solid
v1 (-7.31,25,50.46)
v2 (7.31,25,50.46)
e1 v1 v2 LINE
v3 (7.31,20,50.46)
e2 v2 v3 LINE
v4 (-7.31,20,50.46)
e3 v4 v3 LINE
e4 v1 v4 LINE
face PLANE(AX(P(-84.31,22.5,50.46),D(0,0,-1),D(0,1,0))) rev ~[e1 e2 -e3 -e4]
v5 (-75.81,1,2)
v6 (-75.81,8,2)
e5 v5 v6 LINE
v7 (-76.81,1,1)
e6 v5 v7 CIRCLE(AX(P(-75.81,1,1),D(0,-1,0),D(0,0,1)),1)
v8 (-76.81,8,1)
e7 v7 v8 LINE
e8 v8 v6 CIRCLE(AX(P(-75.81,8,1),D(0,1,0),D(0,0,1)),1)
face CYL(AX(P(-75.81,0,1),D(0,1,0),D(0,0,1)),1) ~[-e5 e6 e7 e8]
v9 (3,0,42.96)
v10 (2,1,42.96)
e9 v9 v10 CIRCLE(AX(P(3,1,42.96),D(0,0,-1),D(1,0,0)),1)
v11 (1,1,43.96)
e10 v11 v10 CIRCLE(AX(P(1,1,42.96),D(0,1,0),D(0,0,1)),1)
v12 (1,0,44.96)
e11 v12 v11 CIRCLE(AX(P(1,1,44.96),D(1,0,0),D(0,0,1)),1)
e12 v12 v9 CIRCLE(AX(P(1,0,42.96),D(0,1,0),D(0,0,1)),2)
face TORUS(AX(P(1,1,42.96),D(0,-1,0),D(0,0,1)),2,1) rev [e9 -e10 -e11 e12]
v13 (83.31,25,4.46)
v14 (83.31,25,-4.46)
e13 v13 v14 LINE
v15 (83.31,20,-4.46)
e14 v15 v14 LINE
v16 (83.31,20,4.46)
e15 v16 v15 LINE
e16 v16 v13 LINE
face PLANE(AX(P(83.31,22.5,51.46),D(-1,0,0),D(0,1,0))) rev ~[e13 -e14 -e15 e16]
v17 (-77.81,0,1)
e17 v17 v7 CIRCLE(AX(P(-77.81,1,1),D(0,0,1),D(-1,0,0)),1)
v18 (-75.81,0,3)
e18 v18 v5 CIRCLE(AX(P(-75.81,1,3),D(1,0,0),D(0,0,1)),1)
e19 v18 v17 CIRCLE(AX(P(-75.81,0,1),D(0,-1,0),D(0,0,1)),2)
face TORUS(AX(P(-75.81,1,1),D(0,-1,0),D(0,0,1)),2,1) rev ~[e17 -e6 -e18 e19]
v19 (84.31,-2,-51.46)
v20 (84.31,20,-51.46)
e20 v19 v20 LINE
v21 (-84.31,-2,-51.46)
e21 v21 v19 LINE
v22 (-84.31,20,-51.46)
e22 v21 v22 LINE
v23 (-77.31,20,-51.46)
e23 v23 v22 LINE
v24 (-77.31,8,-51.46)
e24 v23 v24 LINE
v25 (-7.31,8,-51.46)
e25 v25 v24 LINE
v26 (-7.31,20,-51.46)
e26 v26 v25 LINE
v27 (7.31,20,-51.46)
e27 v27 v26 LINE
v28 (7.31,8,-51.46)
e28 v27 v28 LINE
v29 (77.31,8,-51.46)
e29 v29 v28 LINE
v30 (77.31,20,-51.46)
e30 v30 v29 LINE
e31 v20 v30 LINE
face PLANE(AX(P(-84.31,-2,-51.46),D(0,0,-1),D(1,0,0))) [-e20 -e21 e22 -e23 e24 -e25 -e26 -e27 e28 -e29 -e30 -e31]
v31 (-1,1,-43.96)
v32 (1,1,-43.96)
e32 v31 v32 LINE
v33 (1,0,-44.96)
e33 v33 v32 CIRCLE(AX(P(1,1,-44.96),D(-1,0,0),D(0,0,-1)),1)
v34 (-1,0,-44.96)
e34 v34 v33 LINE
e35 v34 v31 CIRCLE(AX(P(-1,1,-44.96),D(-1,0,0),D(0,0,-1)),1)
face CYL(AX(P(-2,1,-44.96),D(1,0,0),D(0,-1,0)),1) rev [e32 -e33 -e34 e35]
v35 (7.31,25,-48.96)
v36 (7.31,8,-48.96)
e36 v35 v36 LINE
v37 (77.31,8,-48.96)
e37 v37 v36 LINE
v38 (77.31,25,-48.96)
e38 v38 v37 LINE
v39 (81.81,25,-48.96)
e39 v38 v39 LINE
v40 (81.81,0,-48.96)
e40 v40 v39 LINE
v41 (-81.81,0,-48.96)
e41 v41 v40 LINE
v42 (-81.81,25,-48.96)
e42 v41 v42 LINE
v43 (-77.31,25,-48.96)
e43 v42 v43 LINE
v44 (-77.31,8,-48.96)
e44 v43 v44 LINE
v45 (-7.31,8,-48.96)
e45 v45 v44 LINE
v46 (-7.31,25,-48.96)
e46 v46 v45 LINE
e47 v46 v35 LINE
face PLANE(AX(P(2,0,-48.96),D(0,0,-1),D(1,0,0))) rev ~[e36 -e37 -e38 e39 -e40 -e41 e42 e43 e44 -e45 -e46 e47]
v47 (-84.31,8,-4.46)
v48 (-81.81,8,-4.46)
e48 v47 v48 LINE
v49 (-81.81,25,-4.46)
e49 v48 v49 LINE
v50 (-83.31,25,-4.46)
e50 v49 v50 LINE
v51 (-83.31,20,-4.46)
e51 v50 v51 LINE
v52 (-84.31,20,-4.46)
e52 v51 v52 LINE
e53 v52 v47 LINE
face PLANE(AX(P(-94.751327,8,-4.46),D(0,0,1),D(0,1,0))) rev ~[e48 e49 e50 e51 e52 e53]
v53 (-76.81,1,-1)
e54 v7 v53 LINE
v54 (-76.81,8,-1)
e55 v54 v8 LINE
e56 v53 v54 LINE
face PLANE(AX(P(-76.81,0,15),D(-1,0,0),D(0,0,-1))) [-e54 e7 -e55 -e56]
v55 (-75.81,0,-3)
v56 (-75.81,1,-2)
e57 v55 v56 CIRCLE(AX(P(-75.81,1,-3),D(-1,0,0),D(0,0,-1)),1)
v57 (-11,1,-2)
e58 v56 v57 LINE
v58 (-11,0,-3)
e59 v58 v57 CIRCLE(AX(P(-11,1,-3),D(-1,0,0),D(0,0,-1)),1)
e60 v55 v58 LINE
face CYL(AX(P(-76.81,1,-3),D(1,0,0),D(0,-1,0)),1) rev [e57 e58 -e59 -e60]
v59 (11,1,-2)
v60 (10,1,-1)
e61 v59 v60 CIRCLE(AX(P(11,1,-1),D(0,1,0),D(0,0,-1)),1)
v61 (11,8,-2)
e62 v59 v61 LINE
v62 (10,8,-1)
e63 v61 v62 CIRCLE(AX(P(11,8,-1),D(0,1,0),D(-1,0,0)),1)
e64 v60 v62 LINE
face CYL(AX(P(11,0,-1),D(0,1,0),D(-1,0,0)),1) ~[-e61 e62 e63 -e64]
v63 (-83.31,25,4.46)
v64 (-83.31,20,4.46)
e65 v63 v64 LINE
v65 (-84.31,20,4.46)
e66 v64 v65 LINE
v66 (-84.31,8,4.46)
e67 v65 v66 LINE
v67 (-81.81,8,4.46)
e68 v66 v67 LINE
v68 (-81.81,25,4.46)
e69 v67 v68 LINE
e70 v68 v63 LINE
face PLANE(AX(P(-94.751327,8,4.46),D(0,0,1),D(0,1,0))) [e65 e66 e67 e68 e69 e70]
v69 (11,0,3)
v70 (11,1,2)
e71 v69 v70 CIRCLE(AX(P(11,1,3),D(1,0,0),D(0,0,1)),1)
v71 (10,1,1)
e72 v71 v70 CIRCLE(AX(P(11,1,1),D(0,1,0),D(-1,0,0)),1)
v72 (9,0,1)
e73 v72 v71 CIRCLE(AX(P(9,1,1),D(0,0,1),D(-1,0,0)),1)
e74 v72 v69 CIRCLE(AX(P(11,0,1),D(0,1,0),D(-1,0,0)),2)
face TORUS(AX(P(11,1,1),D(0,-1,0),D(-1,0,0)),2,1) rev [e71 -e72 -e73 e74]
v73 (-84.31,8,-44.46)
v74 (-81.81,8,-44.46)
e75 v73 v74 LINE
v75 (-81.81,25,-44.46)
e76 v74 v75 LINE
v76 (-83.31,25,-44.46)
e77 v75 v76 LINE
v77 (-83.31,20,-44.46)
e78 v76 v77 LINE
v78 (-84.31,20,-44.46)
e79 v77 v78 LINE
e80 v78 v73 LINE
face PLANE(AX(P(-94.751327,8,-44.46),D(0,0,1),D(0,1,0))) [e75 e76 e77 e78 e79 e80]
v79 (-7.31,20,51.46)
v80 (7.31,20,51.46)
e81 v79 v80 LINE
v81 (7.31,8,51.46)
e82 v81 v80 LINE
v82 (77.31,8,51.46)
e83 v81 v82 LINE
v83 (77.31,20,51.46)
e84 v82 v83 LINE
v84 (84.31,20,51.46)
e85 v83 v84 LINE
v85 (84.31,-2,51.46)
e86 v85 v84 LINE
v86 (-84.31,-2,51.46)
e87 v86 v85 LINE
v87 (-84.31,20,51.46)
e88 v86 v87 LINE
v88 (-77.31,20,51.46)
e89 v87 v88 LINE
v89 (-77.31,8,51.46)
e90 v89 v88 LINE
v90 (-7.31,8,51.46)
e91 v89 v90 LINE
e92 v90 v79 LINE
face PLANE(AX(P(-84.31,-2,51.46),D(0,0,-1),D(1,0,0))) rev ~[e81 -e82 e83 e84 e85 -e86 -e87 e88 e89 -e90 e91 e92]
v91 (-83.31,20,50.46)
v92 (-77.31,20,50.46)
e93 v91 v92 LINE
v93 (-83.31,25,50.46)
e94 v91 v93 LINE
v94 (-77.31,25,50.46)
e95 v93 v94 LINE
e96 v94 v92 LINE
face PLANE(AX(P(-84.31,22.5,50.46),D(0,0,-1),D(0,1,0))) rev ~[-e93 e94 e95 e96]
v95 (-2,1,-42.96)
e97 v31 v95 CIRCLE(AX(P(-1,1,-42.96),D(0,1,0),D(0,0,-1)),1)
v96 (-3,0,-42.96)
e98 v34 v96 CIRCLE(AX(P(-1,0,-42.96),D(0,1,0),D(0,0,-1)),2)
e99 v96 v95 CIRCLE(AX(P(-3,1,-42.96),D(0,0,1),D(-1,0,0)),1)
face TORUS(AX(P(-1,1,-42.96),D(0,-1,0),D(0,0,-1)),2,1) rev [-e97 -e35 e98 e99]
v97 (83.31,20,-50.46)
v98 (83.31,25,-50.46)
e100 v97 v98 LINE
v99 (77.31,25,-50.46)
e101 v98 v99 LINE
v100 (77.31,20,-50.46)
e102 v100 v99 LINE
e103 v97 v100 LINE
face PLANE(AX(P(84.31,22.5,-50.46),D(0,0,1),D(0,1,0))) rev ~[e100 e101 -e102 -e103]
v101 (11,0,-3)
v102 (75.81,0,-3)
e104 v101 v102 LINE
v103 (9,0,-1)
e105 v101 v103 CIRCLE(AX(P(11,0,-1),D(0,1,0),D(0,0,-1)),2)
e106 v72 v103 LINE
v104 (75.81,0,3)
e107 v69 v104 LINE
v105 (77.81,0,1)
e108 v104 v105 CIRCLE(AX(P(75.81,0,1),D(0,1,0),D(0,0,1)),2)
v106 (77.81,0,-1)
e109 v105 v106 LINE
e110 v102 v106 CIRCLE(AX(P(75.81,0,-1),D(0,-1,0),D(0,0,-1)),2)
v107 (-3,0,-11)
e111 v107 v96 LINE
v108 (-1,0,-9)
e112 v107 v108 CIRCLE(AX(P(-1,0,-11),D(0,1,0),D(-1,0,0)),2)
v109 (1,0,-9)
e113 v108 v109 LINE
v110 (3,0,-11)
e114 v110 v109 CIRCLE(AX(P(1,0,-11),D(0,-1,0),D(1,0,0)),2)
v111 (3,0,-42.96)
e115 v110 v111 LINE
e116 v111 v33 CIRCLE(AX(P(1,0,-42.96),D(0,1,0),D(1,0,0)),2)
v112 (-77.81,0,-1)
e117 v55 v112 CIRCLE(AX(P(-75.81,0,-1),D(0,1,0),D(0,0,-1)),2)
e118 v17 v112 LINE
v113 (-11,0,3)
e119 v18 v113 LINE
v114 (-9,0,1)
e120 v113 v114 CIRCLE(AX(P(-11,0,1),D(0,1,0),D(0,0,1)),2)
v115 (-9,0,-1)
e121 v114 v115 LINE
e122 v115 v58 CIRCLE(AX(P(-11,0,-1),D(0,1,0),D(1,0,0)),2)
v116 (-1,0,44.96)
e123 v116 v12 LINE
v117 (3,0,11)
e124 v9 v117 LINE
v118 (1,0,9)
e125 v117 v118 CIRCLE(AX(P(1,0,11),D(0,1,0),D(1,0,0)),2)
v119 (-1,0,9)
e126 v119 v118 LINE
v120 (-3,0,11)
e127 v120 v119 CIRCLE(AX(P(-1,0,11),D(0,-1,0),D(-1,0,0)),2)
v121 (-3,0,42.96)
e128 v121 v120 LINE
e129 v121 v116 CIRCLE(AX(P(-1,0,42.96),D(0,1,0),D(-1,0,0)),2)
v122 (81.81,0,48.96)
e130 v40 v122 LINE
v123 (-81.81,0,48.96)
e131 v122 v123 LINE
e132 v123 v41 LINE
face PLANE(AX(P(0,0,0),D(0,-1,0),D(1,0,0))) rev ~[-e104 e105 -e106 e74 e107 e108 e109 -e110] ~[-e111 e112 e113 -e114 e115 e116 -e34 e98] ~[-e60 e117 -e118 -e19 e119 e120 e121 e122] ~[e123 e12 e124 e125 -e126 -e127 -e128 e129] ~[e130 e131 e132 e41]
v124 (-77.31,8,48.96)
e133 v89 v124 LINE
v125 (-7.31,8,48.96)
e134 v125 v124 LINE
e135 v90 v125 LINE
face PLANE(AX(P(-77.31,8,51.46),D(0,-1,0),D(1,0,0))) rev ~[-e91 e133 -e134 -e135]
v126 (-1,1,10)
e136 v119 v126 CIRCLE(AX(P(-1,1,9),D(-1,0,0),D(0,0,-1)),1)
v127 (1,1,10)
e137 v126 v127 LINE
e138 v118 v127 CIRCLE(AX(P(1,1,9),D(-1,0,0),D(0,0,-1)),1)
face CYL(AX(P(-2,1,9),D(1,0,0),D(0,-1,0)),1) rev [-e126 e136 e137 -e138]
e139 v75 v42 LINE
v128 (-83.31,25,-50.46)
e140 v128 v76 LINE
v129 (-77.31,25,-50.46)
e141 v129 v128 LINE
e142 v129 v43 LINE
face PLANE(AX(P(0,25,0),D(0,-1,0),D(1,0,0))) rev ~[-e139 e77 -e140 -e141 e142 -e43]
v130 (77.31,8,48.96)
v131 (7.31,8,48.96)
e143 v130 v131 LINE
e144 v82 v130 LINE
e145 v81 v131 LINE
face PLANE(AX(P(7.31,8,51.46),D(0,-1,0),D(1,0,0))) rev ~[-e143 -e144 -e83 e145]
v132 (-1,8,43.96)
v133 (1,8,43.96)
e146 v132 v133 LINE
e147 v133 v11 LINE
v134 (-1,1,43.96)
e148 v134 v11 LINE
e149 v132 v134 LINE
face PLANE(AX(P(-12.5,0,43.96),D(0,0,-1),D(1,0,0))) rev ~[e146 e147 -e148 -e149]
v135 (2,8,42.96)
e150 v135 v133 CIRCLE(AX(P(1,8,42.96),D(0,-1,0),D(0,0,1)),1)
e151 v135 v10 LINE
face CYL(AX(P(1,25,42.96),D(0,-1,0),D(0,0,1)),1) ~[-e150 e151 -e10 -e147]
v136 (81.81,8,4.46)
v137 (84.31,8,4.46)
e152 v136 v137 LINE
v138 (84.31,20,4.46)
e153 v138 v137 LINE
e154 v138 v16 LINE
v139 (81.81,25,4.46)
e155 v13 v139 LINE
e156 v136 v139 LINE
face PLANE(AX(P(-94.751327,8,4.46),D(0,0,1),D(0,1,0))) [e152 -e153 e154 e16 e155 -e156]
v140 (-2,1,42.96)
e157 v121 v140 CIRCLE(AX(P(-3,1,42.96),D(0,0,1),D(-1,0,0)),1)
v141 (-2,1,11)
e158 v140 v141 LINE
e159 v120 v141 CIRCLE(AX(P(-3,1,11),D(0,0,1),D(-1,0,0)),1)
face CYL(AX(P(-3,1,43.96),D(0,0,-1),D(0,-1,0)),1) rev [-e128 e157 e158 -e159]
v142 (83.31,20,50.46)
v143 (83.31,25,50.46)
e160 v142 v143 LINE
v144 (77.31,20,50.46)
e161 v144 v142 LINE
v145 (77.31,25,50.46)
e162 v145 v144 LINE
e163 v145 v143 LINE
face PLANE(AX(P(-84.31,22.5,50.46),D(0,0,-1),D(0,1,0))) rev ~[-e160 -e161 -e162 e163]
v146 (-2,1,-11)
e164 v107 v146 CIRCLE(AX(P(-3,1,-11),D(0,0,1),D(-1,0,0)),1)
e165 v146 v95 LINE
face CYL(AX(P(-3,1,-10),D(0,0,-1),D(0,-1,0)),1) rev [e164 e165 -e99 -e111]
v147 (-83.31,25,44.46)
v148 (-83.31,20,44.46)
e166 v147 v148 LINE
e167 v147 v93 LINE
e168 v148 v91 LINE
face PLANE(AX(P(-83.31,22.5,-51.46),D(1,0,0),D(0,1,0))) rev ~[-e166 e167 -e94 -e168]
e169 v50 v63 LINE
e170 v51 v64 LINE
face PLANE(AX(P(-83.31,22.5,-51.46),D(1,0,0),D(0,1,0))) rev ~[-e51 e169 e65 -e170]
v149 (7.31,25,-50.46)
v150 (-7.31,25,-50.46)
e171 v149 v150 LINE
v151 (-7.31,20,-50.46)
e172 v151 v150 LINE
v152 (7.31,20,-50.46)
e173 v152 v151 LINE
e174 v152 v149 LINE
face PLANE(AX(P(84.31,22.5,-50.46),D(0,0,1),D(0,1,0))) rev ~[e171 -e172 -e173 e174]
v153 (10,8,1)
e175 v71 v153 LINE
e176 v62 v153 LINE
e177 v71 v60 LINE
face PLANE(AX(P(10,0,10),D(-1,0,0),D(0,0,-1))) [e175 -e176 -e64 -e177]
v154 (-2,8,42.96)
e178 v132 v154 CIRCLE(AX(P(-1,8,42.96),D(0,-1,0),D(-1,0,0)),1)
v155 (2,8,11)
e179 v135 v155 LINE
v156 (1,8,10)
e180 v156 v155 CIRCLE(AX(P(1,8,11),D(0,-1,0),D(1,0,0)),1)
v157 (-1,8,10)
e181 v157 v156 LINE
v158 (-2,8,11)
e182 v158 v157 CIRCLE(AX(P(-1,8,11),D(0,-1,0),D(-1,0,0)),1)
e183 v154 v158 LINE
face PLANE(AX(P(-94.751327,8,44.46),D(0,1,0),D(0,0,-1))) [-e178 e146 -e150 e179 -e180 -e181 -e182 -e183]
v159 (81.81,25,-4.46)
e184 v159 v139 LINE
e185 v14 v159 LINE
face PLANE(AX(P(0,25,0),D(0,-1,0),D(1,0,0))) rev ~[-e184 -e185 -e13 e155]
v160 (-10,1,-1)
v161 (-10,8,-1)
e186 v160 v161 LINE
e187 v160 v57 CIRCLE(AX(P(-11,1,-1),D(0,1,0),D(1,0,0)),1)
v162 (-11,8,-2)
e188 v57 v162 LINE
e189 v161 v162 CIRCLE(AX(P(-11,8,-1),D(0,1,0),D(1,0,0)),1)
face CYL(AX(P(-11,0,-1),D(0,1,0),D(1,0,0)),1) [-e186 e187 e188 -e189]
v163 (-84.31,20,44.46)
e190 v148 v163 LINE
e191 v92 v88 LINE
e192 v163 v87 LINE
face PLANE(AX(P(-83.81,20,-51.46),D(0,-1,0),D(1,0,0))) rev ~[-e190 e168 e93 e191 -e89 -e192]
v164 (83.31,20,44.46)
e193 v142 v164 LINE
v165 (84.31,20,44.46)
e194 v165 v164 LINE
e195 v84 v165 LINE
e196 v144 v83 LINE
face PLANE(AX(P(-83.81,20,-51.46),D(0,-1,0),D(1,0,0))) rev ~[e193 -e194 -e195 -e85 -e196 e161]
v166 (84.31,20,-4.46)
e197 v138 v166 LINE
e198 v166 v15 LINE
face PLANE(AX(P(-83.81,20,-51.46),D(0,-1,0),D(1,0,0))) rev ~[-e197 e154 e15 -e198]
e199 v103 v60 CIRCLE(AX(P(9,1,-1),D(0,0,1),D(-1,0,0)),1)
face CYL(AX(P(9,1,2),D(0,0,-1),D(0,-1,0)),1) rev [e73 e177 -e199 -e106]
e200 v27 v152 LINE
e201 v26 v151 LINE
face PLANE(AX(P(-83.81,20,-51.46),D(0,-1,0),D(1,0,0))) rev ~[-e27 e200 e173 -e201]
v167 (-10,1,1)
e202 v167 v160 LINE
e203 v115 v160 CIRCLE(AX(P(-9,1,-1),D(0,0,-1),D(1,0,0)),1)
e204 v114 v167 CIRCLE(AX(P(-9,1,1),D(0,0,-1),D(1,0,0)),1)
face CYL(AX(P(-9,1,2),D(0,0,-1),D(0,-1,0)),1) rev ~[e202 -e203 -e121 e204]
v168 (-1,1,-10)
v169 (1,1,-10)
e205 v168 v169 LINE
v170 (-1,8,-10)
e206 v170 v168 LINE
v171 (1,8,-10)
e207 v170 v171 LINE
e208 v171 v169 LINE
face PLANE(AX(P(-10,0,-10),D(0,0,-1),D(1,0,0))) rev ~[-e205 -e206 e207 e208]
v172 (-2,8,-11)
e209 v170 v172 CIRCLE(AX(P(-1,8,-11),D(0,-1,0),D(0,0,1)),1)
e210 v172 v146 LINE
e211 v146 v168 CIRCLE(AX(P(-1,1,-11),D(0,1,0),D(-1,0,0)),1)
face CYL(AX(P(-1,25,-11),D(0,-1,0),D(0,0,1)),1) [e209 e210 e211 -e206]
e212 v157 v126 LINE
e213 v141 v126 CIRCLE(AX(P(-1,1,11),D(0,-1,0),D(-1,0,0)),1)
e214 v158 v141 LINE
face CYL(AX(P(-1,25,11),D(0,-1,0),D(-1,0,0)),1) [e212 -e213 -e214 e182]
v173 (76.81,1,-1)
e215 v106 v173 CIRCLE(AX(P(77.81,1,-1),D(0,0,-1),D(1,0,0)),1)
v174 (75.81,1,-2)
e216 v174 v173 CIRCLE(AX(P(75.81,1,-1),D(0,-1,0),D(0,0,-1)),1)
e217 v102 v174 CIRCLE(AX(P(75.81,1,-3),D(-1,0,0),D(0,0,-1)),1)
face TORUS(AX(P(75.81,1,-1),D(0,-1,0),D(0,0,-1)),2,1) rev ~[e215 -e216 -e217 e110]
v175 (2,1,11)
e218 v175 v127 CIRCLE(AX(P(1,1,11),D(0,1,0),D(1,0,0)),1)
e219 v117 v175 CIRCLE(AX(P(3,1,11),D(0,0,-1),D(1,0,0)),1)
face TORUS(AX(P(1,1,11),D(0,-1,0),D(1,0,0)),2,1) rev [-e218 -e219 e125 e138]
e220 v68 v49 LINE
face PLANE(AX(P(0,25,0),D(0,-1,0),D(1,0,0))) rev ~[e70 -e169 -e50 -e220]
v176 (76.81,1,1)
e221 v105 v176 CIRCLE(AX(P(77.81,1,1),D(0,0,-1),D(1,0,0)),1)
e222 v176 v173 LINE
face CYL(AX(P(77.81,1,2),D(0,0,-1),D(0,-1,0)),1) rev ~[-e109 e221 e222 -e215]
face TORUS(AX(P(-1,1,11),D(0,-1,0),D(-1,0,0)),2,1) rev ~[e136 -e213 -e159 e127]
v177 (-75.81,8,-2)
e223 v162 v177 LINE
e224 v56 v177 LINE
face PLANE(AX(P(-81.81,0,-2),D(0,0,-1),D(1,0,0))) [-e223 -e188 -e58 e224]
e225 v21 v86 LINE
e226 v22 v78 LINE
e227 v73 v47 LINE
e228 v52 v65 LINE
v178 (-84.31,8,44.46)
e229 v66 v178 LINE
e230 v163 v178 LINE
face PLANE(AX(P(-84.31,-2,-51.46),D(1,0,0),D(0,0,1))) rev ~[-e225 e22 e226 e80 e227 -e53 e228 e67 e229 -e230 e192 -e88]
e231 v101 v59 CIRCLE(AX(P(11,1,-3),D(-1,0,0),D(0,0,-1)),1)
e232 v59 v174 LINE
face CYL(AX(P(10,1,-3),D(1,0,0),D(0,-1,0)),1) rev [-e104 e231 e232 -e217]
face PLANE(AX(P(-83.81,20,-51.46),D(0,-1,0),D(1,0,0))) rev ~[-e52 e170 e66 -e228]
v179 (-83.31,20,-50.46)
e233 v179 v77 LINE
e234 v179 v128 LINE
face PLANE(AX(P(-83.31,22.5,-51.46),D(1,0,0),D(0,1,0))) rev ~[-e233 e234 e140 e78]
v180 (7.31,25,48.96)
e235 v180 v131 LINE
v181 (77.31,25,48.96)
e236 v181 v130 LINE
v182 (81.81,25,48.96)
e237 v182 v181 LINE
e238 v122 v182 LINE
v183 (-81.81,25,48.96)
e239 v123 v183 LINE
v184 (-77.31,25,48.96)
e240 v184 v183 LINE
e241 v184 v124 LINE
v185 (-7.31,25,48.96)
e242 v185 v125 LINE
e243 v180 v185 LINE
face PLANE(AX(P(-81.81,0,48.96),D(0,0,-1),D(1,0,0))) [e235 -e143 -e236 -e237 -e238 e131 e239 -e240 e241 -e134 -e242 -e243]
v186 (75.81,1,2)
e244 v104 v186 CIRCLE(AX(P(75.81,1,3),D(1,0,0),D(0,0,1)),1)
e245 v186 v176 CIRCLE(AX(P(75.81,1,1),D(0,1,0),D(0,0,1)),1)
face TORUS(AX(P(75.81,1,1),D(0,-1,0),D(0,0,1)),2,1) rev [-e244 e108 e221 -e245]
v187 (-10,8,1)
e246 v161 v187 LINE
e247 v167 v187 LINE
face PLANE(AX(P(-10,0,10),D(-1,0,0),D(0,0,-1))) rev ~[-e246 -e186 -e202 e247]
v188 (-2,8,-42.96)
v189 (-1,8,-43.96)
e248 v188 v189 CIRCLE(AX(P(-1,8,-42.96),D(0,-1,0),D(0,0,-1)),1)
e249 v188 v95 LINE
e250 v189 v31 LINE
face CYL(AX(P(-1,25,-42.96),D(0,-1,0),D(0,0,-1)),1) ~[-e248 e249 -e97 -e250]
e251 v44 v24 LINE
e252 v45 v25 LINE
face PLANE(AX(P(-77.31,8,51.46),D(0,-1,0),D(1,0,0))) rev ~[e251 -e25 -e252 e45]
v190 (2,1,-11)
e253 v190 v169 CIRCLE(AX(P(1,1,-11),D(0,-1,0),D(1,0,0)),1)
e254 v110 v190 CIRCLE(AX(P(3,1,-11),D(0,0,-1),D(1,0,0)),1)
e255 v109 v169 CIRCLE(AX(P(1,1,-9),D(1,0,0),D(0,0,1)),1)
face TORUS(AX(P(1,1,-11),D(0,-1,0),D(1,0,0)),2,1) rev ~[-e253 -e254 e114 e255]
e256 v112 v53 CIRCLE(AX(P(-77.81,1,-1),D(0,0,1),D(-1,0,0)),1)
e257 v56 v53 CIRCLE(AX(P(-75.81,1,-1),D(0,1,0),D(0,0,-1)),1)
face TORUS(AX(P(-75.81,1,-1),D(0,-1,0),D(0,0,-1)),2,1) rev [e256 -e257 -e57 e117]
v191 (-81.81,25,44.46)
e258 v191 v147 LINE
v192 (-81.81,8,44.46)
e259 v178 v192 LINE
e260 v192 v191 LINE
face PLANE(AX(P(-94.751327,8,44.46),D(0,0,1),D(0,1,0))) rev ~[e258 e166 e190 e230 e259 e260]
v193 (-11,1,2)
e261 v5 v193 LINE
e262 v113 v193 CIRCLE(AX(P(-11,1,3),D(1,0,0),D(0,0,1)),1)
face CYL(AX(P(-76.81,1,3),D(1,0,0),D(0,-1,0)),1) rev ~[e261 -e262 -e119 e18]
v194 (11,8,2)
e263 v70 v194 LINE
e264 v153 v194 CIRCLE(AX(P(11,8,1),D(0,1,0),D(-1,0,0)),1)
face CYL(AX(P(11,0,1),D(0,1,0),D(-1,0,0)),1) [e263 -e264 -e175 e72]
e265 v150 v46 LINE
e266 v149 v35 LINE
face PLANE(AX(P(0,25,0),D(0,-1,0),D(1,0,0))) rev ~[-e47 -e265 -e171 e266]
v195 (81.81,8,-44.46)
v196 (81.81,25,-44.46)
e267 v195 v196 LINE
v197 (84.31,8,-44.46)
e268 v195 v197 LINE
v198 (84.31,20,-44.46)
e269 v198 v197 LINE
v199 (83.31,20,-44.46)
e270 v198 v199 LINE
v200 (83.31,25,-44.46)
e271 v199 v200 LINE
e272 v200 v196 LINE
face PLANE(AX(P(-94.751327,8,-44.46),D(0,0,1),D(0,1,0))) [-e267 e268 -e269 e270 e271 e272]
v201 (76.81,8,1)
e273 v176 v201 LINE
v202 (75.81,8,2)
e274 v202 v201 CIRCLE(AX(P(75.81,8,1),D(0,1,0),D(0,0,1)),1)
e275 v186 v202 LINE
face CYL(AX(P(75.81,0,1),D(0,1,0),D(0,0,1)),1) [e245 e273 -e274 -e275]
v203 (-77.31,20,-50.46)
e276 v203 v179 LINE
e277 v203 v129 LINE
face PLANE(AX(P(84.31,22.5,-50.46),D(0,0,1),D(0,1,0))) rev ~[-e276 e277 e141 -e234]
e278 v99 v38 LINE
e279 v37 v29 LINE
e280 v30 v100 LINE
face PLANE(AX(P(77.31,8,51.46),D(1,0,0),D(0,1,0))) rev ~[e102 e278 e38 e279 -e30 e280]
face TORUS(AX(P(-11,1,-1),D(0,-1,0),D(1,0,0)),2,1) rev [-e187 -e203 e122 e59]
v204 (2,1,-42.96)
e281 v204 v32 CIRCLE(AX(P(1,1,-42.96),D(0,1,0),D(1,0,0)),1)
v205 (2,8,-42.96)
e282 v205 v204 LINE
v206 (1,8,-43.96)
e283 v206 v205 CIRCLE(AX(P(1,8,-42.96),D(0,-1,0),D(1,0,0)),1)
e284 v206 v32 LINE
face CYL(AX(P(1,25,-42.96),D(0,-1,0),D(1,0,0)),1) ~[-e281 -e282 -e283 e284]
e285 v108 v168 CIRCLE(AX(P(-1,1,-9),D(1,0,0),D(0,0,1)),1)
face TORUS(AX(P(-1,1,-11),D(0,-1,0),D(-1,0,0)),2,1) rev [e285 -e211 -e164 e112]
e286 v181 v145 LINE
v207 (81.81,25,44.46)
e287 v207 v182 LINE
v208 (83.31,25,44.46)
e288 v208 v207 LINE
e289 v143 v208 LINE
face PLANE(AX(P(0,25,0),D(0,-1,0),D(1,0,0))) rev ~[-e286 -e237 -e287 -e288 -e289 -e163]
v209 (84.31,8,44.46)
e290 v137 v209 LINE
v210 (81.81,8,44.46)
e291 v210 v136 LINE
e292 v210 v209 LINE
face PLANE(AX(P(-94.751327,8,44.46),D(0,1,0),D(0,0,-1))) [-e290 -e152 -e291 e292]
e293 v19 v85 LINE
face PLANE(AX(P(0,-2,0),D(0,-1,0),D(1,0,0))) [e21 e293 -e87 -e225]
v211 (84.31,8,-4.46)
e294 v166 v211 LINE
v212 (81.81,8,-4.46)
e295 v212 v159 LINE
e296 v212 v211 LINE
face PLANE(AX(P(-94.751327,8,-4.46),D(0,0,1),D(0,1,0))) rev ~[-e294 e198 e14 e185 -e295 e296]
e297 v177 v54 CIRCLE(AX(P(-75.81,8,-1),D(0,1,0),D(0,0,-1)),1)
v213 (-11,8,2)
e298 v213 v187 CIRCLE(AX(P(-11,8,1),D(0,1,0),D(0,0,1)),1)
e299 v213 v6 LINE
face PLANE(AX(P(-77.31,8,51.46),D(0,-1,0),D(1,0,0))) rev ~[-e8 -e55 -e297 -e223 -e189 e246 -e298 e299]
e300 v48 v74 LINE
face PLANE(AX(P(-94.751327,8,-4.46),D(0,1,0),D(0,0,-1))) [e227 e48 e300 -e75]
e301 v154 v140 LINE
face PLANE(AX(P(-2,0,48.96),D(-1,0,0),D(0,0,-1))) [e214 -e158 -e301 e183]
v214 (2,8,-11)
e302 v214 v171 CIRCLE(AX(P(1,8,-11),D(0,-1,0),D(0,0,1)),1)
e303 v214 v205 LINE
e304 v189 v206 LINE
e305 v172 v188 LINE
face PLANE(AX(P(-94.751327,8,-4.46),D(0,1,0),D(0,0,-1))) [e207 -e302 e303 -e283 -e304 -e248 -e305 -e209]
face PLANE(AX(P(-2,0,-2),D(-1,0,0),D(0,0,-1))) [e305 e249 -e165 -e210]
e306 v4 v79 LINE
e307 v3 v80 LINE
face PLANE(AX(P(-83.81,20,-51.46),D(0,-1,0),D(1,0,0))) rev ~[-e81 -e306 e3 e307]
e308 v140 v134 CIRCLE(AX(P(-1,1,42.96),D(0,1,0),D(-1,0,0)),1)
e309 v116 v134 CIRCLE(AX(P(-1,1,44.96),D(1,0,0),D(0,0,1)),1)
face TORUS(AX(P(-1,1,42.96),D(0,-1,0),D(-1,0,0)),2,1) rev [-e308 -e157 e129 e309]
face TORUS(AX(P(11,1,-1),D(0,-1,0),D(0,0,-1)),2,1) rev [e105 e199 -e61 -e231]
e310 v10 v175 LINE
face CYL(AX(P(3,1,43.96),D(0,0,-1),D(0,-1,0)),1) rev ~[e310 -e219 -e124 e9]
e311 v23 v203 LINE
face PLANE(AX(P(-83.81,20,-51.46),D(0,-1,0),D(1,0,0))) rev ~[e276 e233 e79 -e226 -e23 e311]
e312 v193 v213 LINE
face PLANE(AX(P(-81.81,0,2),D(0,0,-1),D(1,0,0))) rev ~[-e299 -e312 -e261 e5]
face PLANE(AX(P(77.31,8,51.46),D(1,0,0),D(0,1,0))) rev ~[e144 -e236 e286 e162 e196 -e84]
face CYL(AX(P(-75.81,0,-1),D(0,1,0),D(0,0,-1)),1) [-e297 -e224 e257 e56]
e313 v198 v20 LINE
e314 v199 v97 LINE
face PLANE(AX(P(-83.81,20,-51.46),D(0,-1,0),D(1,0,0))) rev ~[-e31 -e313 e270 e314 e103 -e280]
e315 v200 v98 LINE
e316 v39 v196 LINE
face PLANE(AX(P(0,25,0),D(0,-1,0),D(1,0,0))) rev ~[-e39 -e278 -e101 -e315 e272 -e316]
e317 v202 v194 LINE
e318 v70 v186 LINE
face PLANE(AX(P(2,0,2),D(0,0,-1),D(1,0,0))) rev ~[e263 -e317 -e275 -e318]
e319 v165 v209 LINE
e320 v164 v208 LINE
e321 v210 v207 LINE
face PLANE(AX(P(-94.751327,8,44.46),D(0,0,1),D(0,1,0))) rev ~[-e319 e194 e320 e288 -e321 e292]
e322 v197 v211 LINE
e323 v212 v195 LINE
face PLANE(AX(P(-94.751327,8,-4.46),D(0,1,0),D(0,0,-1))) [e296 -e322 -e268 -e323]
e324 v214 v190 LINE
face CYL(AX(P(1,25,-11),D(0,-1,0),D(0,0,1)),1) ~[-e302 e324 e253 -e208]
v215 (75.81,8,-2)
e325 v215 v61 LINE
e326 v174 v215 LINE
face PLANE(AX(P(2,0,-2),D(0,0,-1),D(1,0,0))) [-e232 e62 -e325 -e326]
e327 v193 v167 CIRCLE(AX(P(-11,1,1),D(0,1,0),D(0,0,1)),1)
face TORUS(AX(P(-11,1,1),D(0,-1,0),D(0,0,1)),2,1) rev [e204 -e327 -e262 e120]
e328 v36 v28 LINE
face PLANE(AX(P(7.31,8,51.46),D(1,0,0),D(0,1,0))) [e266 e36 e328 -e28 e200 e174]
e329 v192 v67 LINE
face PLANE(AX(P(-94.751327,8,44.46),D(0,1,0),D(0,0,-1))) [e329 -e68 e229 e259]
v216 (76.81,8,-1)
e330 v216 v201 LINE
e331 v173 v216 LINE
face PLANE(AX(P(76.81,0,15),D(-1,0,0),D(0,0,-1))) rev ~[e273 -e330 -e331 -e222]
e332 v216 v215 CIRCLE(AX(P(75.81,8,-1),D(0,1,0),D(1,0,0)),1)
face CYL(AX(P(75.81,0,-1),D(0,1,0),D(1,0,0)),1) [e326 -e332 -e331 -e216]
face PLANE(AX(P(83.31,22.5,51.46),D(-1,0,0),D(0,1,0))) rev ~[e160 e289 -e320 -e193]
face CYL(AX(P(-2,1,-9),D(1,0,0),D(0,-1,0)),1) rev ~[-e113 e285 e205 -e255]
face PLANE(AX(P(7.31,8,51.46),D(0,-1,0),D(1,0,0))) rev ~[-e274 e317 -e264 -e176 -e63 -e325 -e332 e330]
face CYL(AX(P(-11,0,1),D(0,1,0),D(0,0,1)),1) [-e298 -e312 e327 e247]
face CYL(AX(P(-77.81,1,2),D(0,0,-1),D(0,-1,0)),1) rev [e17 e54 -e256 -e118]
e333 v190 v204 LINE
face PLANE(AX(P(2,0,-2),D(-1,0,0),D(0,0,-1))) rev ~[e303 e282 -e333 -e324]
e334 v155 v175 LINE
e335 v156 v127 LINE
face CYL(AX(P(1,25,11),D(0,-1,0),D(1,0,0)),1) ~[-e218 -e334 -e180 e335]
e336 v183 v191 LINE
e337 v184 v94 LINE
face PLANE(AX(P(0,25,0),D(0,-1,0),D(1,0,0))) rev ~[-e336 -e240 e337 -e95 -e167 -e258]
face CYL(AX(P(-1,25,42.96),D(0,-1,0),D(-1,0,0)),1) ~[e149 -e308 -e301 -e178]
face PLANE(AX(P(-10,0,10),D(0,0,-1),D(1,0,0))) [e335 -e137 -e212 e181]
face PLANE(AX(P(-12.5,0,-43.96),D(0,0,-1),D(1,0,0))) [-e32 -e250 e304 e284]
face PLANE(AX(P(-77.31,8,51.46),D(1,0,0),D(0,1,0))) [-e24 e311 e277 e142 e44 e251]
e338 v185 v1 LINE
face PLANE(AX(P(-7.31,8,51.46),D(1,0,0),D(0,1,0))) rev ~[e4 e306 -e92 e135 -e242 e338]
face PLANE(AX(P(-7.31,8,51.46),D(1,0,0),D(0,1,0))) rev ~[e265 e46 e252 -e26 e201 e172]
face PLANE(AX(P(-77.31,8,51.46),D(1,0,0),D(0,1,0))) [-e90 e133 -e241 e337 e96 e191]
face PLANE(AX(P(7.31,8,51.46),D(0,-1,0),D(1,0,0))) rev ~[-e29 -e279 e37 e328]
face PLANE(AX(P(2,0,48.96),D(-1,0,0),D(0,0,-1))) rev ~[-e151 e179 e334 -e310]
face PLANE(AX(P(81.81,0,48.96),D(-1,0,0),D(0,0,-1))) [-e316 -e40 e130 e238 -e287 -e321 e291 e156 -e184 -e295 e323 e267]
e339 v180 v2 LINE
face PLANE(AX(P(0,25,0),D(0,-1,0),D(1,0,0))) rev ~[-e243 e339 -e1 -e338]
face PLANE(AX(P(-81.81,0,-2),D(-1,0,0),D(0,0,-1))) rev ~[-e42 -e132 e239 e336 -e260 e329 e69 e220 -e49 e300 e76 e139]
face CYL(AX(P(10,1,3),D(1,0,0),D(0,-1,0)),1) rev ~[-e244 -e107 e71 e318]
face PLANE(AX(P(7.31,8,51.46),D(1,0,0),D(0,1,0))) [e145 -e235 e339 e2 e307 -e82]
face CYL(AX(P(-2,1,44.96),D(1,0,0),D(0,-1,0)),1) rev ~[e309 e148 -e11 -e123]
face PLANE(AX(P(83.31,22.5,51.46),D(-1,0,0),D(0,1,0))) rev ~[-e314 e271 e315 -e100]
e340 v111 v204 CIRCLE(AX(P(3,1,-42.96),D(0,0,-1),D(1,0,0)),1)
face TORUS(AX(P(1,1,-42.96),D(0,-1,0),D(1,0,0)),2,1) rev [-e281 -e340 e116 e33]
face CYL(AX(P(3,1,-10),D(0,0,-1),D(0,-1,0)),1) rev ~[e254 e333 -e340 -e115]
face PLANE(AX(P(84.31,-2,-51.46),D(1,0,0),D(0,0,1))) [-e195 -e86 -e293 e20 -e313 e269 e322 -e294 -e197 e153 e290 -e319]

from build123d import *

# Parameters (mm, degrees)
SKETCH1_W               = 166.62
SKETCH1_H               = 100.92
SKETCH1_W_2             = 79.81
SKETCH1_H_2             = 46.96
BOSS_EXTRUDE1_DEPTH     = 25
SKETCH2_W               = 166.62
SKETCH2_H               = 100.92
BOSS_EXTRUDE2_DEPTH     = 2
SKETCH3_W               = 20
SKETCH3_H               = 20
SKETCH3_W_2             = 5
SKETCH3_H_2             = 30
SKETCH3_W_3             = 25
SKETCH3_H_3             = 5
CUT_EXTRUDE1_DEPTH      = 101.557285663
SKETCH4_W               = 168.62
SKETCH4_H               = 102.92
SKETCH4_W_2             = 166.62
SKETCH4_H_2             = 100.92
BOSS_EXTRUDE3_DEPTH     = 27
FILLET1_R               = 1
SKETCH5_W               = 1
SKETCH5_H               = 5
SKETCH8_W               = 70
SKETCH8_H               = 44.022863743
CUT_EXTRUDE2_DEPTH      = 136.372458425
CUT_EXTRUDE3_DEPTH      = 2
CUT_EXTRUDE3_DEPTH_BACK = 179.061326514
SKETCH9_W               = 40
SKETCH9_H               = 21.691425142


with BuildPart() as part:
    # Sketch1 → Boss-Extrude1 (new body)
    with BuildSketch(Plane(origin=(0, 0, 0), x_dir=(1, 0, 0), z_dir=(0, 1, 0))):
        Rectangle(SKETCH1_W, SKETCH1_H)
        with Locations((41.905, 25.48)):
            Rectangle(SKETCH1_W_2, SKETCH1_H_2, mode=Mode.SUBTRACT)
        with Locations((41.905, -25.48)):
            Rectangle(SKETCH1_W_2, SKETCH1_H_2, mode=Mode.SUBTRACT)
        with Locations((-41.905, 25.48)):
            Rectangle(SKETCH1_W_2, SKETCH1_H_2, mode=Mode.SUBTRACT)
        with Locations((-41.905, -25.48)):
            Rectangle(SKETCH1_W_2, SKETCH1_H_2, mode=Mode.SUBTRACT)
    extrude(amount=BOSS_EXTRUDE1_DEPTH)

    # Sketch2 → Boss-Extrude2 (add)
    with BuildSketch(Plane.XZ):
        Rectangle(SKETCH2_W, SKETCH2_H)
    extrude(amount=BOSS_EXTRUDE2_DEPTH)

    # Sketch3 → Cut-Extrude1 (cut, through all)
    with BuildSketch(Plane(origin=(0, 0, 0), x_dir=(1, 0, 0), z_dir=(0, 1, 0))):
        Rectangle(SKETCH3_W, SKETCH3_H)
        with Locations((-79.31, 0)):
            Rectangle(SKETCH3_W_2, SKETCH3_H_2)
        with Locations((0, 46.46)):
            Rectangle(SKETCH3_W_3, SKETCH3_H_3)
        with Locations((0, -46.46)):
            Rectangle(SKETCH3_W_3, SKETCH3_H_3)
        with Locations((79.31, 0)):
            Rectangle(SKETCH3_W_2, SKETCH3_H_2)
    extrude(amount=CUT_EXTRUDE1_DEPTH, mode=Mode.SUBTRACT)

    # Sketch4 → Boss-Extrude3 (add)
    with BuildSketch(Plane.XZ.offset(2)):
        Rectangle(SKETCH4_W, SKETCH4_H)
        Rectangle(SKETCH4_W_2, SKETCH4_H_2, mode=Mode.SUBTRACT)
    extrude(amount=-BOSS_EXTRUDE3_DEPTH)

    # Fillet1
    fillet1_edges = [part.edges().sort_by_distance(p)[0] for p in [
        (-43.405, 0, 2),
        (43.405, 0, -2),
        (43.405, 25, -2),
        (-43.405, 25, 2),
        (2, 25, 26.98),
        (-2, 25, -26.98),
        (-10, 12.5, -2),
        (-10, 0, 0),
        (-10, 12.5, 2),
        (0, 0, 10),
        (2, 12.5, 10),
        (-2, 12.5, 10),
        (10, 12.5, 2),
        (10, 0, 0),
        (10, 12.5, -2),
        (0, 0, -10),
        (-2, 12.5, -10),
        (2, 12.5, -10),
        (-43.405, 0, -2),
        (-43.405, 25, -2),
        (-76.81, 0, 0),
        (-76.81, 12.5, -2),
        (-76.81, 12.5, 2),
        (2, 0, -26.98),
        (2, 25, -26.98),
        (-2, 12.5, -43.96),
        (0, 0, -43.96),
        (2, 12.5, -43.96),
        (-2, 0, 26.98),
        (-2, 25, 26.98),
        (2, 12.5, 43.96),
        (0, 0, 43.96),
        (-2, 12.5, 43.96),
        (43.405, 0, 2),
        (43.405, 25, 2),
        (76.81, 0, 0),
        (76.81, 12.5, 2),
        (76.81, 12.5, -2),
        (-2, 0, -26.98),
        (2, 0, 26.98),
    ]]
    fillet(fillet1_edges, radius=FILLET1_R)

    # Cut-Sweep1: sweep along a path in Sketch7
    with BuildLine(Plane(origin=(0, 25, 0), x_dir=(1, 0, 0), z_dir=(0, 1, 0))) as cut_sweep1_path:
        Line((-84.31, -51.46), (84.31, -51.46))
        Line((84.31, -51.46), (84.31, 51.46))
        Line((84.31, 51.46), (-84.31, 51.46))
        Line((-84.31, 51.46), (-84.31, -51.46))
    # Sketch5 → Cut-Sweep1 (sweep, cut)
    with BuildSketch(Plane(origin=(84.31, 0, 0), x_dir=(0, 0, -1), z_dir=(1, 0, 0))):
        with Locations((-50.96, 22.5)):
            Rectangle(SKETCH5_W, SKETCH5_H)
    sweep(path=cut_sweep1_path.line, transition=Transition.RIGHT, mode=Mode.SUBTRACT)

    # Sketch8 → Cut-Extrude2 (cut, through all)
    with BuildSketch(Plane.XY.offset(51.46)):
        with Locations((-42.31, 30.011431872)):
            Rectangle(SKETCH8_W, SKETCH8_H)
        with Locations((42.31, 30.011431872)):
            Rectangle(SKETCH8_W, SKETCH8_H)
    extrude(amount=-CUT_EXTRUDE2_DEPTH, mode=Mode.SUBTRACT)

    # Sketch9 → Cut-Extrude3 (cut, two sides: drawn at the far end of the back side and taken through both)
    with BuildSketch(Plane(origin=(84.31, 0, 0), x_dir=(0, 0, -1), z_dir=(1, 0, 0)).offset(-CUT_EXTRUDE3_DEPTH_BACK)):
        with Locations((-24.46, 18.845712571)):
            Rectangle(SKETCH9_W, SKETCH9_H)
        with Locations((24.46, 18.845712571)):
            Rectangle(SKETCH9_W, SKETCH9_H)
    extrude(amount=CUT_EXTRUDE3_DEPTH + CUT_EXTRUDE3_DEPTH_BACK, mode=Mode.SUBTRACT)


solid = part.part
